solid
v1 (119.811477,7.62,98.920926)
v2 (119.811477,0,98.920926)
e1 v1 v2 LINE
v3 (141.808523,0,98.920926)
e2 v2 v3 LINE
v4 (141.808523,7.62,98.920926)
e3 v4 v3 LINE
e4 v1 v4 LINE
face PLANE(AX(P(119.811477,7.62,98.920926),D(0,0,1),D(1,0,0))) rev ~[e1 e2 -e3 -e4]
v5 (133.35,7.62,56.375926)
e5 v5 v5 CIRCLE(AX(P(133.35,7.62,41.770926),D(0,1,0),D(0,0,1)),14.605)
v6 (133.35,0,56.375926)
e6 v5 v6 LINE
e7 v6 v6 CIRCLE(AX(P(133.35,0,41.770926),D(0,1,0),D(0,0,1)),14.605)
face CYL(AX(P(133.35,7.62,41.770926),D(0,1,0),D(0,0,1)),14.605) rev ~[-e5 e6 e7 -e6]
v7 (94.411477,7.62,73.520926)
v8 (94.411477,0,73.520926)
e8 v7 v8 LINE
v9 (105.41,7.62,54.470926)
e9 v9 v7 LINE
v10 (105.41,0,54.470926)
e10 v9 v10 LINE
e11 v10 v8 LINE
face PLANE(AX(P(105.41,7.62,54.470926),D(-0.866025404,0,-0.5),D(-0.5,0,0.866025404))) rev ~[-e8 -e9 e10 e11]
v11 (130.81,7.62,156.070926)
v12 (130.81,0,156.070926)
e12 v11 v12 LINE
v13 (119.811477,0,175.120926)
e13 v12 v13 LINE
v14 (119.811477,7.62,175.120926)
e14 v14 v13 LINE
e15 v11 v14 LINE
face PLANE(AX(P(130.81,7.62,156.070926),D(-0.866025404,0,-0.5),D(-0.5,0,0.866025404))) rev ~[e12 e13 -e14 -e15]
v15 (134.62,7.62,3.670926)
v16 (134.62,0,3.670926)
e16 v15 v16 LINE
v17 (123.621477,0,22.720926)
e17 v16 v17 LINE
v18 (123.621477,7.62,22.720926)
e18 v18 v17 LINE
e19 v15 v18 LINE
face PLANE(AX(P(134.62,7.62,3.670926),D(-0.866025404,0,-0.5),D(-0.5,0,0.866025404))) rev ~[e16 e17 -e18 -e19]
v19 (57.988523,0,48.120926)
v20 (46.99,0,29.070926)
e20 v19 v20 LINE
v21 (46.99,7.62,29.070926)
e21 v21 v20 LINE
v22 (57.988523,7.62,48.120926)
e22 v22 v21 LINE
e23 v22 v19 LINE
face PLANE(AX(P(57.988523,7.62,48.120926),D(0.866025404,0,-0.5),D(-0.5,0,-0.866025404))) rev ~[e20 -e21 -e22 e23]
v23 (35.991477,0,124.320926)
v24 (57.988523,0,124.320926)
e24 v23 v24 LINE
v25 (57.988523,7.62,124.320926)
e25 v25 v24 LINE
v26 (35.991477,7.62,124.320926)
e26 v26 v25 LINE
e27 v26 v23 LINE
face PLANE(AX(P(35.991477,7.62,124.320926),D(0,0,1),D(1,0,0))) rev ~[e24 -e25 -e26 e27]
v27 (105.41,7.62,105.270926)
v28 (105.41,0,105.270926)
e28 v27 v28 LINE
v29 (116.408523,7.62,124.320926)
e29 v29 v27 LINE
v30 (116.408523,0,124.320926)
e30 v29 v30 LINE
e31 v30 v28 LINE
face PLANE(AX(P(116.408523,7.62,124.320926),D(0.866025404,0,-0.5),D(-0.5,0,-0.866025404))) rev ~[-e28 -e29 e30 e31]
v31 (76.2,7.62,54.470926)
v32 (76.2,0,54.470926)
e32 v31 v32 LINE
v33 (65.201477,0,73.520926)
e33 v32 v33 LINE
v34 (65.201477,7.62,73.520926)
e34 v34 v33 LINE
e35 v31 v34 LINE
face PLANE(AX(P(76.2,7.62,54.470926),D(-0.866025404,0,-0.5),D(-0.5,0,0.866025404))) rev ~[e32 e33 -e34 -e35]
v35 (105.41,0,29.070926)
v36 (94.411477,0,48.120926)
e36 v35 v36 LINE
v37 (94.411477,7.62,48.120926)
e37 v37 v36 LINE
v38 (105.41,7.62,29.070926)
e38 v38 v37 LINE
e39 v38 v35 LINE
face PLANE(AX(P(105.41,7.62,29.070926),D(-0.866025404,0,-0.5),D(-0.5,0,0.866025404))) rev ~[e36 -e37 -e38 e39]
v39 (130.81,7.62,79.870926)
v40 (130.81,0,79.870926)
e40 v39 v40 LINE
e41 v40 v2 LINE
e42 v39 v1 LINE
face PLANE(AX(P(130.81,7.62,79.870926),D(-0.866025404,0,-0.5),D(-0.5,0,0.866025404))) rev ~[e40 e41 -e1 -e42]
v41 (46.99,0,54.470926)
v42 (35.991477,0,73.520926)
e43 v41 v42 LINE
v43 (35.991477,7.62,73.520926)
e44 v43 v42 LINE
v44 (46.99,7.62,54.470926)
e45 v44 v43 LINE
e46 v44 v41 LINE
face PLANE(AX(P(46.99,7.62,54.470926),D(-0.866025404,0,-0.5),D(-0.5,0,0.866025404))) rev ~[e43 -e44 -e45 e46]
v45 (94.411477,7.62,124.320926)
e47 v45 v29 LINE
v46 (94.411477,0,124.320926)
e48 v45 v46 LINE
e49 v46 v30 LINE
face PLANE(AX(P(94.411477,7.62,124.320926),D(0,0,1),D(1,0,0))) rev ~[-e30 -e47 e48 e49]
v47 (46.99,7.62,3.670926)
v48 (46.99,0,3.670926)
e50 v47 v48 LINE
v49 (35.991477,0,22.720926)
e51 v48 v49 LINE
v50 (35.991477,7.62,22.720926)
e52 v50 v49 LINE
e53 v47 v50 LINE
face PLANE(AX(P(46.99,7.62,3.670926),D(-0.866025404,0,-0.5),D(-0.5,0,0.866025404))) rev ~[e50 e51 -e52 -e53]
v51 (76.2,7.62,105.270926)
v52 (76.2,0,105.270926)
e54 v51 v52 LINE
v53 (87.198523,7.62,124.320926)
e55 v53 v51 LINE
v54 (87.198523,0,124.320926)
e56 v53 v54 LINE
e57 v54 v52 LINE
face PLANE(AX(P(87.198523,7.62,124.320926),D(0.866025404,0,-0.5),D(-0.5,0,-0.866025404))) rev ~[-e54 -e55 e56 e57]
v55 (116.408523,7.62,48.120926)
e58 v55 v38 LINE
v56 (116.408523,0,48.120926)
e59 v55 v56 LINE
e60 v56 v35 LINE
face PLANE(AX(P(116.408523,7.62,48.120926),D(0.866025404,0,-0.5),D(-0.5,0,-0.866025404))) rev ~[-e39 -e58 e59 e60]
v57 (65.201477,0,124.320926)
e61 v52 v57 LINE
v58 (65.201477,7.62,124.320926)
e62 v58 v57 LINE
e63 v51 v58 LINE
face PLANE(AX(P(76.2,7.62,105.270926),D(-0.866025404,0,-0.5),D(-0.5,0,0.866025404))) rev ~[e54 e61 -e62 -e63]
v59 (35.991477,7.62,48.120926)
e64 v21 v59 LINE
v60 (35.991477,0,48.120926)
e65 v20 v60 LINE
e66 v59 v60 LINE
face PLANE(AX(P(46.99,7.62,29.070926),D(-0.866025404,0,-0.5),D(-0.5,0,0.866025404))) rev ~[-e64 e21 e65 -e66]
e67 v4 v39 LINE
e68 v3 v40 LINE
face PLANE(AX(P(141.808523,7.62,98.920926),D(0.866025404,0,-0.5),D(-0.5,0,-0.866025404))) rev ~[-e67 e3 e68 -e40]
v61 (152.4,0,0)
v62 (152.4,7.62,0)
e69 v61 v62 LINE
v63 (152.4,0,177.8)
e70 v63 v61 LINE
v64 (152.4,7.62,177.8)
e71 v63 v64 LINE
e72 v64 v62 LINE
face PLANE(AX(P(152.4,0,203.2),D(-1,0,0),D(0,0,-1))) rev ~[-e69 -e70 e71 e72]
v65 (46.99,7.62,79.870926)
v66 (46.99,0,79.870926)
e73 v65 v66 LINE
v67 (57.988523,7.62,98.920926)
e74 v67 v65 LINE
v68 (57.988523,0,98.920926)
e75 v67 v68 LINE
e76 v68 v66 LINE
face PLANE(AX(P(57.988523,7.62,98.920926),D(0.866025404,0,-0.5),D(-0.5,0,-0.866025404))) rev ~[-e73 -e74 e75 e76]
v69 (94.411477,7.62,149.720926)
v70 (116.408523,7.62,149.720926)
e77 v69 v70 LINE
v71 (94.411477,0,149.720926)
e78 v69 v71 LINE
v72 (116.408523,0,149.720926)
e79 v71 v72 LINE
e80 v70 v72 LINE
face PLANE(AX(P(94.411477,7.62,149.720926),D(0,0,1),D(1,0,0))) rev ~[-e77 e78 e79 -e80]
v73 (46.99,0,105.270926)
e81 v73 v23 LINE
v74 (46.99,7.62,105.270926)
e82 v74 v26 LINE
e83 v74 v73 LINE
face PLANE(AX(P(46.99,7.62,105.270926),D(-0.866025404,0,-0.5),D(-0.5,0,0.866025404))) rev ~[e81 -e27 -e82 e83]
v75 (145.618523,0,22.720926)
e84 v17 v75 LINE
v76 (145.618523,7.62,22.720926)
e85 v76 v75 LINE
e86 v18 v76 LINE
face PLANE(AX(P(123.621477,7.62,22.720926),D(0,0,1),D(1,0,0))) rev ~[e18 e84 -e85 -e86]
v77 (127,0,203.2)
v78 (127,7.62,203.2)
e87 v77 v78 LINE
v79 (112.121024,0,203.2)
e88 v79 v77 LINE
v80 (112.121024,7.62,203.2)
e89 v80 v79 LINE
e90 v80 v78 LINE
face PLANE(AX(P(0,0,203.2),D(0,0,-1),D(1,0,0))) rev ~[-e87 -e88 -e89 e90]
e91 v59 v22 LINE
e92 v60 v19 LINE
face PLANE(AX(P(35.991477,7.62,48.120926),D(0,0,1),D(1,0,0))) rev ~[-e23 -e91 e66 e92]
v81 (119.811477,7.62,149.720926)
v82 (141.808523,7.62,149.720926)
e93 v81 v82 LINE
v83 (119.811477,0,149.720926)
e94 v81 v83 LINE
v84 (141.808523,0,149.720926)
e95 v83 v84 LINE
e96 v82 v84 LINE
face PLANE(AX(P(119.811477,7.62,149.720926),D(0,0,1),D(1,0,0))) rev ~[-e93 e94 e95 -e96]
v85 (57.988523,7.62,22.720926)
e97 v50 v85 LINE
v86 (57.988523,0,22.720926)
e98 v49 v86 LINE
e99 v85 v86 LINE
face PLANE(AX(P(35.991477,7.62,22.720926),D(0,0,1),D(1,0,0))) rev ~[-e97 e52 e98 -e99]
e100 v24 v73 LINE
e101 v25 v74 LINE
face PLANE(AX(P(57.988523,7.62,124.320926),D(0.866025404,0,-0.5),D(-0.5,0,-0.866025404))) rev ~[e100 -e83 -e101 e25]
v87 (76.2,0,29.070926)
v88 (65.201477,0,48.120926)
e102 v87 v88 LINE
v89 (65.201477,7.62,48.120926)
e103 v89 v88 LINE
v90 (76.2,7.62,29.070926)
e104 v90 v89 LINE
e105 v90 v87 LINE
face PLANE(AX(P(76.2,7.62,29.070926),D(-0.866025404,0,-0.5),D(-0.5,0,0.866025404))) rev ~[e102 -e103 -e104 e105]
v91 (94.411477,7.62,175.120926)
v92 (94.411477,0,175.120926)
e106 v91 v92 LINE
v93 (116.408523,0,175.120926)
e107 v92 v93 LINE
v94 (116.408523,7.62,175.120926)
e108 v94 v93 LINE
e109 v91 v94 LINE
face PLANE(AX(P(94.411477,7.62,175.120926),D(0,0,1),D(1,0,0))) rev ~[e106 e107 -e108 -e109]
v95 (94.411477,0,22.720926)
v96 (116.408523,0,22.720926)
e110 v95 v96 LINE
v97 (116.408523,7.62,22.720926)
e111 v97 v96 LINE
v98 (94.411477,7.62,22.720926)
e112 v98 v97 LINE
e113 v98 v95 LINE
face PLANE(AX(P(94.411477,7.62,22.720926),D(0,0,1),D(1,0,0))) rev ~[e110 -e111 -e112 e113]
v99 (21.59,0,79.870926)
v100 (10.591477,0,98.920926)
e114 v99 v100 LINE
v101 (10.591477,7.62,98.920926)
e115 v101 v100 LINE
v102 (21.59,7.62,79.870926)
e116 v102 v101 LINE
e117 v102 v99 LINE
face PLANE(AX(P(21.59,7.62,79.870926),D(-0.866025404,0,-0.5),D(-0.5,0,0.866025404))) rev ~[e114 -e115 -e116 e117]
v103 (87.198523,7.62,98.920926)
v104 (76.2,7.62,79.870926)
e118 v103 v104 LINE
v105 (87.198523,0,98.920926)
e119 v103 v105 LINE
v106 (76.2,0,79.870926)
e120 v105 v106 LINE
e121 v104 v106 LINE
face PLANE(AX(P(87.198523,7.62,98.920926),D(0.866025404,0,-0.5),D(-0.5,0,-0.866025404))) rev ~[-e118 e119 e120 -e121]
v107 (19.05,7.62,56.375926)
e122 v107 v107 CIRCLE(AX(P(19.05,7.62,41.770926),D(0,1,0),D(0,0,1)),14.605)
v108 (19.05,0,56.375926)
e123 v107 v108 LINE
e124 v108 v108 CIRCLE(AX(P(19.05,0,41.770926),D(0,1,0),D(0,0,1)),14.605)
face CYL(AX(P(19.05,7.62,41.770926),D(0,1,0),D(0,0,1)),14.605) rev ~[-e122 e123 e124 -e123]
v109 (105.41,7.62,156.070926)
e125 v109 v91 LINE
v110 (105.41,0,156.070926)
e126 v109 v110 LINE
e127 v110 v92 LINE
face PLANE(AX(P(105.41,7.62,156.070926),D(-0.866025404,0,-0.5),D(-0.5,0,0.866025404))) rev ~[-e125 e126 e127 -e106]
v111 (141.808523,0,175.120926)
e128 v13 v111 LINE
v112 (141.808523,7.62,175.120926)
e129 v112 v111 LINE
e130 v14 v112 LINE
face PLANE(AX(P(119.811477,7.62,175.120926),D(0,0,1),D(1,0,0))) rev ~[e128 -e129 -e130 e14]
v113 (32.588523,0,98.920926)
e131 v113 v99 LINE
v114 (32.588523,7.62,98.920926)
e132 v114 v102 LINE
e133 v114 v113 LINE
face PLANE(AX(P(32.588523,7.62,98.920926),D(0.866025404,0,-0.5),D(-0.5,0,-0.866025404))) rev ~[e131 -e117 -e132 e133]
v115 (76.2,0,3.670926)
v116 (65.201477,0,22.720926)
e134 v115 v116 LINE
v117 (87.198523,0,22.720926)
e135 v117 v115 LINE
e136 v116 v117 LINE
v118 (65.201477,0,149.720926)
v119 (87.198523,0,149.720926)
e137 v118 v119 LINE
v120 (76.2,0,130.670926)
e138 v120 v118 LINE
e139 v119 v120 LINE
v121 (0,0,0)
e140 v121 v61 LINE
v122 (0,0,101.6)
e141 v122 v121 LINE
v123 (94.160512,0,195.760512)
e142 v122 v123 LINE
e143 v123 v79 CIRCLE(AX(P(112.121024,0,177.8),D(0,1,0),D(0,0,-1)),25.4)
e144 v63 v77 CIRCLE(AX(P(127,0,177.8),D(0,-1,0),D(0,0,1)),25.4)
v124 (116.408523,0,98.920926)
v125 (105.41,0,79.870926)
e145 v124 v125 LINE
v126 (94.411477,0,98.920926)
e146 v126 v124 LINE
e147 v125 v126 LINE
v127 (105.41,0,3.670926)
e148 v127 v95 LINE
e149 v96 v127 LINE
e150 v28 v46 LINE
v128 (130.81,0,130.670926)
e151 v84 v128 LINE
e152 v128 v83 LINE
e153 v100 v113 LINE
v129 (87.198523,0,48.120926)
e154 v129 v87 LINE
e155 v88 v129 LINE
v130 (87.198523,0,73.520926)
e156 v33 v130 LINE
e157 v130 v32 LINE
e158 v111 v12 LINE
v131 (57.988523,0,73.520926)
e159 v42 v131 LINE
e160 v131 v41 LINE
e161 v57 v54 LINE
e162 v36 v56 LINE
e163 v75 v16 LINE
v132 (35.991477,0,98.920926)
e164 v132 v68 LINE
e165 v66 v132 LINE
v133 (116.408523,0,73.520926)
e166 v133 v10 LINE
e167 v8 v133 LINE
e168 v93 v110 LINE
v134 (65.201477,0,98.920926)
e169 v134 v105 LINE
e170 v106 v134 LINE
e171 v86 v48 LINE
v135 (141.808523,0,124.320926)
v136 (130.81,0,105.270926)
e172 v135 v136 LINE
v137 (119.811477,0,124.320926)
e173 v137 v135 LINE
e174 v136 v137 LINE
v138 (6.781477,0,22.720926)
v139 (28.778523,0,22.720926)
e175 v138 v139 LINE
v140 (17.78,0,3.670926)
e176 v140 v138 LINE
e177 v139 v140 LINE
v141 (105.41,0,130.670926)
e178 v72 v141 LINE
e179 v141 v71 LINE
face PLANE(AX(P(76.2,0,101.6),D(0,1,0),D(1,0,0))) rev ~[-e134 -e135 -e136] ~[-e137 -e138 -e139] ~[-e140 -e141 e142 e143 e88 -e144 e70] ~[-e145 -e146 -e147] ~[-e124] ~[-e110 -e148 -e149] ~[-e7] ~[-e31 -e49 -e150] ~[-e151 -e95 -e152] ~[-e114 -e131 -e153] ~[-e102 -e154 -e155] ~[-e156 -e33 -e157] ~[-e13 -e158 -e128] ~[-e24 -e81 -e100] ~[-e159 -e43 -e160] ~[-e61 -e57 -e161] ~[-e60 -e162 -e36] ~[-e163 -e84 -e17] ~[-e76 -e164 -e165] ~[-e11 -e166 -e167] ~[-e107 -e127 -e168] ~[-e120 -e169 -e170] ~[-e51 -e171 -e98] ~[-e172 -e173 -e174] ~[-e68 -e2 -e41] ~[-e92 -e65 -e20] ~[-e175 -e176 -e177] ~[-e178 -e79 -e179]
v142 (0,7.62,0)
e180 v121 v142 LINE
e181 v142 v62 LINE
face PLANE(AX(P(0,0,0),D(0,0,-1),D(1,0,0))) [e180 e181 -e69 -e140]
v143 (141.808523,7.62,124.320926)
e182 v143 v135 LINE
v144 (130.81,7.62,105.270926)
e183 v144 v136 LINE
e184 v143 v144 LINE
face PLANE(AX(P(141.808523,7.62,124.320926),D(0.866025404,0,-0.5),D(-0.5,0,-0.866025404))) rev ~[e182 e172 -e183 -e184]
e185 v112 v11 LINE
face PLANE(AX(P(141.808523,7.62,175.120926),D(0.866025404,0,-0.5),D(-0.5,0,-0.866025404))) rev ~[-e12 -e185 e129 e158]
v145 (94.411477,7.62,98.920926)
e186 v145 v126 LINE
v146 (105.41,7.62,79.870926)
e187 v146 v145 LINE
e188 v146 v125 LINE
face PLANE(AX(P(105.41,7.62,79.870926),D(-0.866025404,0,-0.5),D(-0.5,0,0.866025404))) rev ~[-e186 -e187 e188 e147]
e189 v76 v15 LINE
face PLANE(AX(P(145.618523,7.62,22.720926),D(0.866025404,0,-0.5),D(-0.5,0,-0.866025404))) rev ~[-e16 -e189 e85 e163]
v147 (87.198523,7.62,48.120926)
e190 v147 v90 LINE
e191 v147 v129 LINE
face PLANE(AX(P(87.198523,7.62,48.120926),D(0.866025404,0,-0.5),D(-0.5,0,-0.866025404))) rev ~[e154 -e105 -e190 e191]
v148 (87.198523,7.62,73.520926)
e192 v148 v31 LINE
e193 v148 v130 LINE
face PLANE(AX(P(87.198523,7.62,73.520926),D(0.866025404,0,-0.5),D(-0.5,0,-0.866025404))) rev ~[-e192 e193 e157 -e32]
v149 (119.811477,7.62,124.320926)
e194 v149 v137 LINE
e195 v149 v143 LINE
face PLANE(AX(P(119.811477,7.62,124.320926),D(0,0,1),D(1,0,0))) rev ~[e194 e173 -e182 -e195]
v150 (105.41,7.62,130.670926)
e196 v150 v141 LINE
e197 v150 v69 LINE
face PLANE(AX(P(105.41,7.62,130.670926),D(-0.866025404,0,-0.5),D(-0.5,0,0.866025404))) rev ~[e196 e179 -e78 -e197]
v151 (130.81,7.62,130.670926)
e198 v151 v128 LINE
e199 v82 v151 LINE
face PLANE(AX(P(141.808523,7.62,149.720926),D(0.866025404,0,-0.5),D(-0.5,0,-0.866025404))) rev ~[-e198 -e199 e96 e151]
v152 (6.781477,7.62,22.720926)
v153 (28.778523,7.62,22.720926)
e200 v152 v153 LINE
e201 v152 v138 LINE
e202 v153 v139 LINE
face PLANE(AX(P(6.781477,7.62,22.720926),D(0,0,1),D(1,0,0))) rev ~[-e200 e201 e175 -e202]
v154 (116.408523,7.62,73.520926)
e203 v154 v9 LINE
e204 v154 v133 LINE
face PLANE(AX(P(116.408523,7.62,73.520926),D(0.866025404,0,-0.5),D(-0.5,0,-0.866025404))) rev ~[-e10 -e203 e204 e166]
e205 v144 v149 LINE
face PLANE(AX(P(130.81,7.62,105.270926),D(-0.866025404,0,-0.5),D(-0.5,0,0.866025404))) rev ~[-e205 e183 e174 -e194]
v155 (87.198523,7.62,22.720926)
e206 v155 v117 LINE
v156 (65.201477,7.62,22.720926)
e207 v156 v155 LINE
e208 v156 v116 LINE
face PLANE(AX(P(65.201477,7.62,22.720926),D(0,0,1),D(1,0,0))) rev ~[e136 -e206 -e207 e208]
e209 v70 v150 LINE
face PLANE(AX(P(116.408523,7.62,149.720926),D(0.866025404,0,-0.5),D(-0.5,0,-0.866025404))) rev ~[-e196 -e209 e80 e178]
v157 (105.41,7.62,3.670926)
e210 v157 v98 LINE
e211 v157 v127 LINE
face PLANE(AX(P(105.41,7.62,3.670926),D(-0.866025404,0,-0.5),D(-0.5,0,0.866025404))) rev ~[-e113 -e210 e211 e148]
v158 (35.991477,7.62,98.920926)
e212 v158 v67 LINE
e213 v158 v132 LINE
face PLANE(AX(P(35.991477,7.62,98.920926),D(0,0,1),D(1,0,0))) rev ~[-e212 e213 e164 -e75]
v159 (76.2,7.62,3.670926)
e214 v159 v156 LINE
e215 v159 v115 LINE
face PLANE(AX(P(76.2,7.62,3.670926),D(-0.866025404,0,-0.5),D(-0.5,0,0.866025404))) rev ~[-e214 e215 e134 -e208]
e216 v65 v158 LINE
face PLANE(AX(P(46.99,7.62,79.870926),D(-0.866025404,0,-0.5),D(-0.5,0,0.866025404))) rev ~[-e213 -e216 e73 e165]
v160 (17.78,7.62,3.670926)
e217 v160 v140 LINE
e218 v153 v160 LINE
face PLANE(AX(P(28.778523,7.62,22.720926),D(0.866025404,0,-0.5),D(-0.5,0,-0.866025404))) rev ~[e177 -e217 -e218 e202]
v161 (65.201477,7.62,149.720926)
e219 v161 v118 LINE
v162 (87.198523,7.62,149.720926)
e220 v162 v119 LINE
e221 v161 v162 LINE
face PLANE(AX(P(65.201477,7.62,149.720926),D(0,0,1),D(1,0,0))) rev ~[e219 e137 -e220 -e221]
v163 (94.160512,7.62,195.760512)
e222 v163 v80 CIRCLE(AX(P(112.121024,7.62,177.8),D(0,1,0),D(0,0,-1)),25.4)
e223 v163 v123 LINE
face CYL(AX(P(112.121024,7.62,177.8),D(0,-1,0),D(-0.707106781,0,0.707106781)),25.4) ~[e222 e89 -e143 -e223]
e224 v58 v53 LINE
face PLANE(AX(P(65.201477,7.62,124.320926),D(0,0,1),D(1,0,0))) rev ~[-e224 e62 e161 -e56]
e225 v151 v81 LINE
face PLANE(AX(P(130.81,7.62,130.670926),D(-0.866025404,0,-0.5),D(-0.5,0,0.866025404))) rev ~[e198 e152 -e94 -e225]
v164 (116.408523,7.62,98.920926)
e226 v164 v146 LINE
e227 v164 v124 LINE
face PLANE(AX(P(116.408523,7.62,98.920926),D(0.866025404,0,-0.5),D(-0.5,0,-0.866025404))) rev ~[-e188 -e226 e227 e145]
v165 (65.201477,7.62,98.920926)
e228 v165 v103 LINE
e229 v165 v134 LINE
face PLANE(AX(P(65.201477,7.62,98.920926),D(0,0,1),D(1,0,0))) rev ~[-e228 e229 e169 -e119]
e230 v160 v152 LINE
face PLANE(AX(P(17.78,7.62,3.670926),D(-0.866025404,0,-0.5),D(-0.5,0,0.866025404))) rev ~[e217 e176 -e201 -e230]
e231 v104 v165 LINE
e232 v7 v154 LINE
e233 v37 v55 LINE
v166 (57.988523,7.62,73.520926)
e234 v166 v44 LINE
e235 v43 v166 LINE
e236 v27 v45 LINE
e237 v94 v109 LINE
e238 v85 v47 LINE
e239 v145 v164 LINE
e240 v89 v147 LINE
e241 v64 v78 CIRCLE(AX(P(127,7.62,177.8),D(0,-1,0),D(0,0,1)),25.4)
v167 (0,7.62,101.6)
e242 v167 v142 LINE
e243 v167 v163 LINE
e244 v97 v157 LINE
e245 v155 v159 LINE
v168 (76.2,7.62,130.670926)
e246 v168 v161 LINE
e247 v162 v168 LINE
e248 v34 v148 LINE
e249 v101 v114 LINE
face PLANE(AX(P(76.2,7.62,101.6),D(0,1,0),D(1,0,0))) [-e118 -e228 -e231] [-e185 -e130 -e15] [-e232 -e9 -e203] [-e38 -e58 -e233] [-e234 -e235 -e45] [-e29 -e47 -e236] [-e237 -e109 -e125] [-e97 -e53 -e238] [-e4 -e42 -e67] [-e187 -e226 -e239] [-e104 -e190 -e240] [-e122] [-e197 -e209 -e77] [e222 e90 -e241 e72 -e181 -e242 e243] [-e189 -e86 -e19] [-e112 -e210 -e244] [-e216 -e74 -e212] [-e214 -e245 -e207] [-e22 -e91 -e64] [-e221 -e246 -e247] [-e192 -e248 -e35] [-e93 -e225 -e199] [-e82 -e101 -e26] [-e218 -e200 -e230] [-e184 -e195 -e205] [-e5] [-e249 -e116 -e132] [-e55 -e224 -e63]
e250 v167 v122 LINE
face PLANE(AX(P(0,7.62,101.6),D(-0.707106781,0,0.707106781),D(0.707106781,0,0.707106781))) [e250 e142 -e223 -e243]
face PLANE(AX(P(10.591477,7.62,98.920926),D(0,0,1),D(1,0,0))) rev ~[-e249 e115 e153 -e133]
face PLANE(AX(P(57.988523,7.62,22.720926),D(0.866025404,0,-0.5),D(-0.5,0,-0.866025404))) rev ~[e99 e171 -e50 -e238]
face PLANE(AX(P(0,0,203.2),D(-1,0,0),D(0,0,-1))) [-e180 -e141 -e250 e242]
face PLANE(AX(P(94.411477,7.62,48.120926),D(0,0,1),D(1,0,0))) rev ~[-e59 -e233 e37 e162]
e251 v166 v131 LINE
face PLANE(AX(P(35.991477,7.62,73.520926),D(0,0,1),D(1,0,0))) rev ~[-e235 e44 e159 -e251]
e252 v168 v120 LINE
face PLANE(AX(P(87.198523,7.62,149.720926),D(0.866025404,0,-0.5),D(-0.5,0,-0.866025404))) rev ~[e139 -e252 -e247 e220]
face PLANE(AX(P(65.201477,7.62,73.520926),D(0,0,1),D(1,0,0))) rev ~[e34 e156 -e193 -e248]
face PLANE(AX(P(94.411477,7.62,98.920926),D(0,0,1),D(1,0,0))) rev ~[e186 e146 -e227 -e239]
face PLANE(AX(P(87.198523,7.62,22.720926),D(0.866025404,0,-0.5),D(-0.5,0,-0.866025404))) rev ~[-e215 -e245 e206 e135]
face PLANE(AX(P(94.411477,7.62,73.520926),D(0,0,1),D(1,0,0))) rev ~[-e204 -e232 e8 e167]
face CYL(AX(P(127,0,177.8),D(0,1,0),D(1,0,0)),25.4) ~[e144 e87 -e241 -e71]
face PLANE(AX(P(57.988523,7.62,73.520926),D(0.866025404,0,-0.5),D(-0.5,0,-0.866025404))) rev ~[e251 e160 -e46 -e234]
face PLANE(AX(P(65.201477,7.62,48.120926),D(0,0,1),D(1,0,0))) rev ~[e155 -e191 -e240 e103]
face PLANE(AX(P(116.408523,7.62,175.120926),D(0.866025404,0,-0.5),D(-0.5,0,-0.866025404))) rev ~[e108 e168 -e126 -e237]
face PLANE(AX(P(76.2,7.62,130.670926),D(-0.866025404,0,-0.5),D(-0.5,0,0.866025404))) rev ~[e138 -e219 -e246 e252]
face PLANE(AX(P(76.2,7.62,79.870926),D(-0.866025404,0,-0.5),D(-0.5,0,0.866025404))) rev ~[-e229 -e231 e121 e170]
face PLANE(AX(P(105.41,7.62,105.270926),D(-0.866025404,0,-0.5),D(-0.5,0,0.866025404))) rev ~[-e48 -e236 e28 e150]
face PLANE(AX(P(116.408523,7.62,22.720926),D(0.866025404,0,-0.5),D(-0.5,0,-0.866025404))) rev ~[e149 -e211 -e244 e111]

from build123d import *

# Parameters (mm, degrees)
SKETCH9_W           = 152.4
SKETCH9_H           = 203.2
BOSS_EXTRUDE4_DEPTH = 7.62
SKETCH10_R          = 14.605
CUT_EXTRUDE4_DEPTH  = 7.62
CUT_EXTRUDE5_DEPTH  = 7.62
FILLET2_R           = 25.4
CUT_EXTRUDE6_DEPTH  = 7.62


with BuildPart() as part:
    # Sketch9 → Boss-Extrude4 (new body)
    with BuildSketch(Plane(origin=(0, 0, 0), x_dir=(1, 0, 0), z_dir=(0, 1, 0))):
        with Locations((76.2, -101.6)):
            Rectangle(SKETCH9_W, SKETCH9_H)
    extrude(amount=BOSS_EXTRUDE4_DEPTH)

    # Sketch10 → Cut-Extrude4 (cut)
    with BuildSketch(Plane(origin=(0, 7.62, 0), x_dir=(1, 0, 0), z_dir=(0, 1, 0))):
        with Locations(Location((19.05, -41.770926028, 0), (0, 0, 270))):
            Circle(SKETCH10_R)
        with Locations(Location((133.35, -41.770926028, 0), (0, 0, 270))):
            Circle(SKETCH10_R)
    extrude(amount=-CUT_EXTRUDE4_DEPTH, mode=Mode.SUBTRACT)

    # Sketch11 → Cut-Extrude5 (cut)
    with BuildSketch(Plane(origin=(0, 7.62, 0), x_dir=(1, 0, 0), z_dir=(0, 1, 0))):
        Polygon((0, -101.6), (101.6, -203.2), (0, -203.2), align=None)
    extrude(amount=-CUT_EXTRUDE5_DEPTH, mode=Mode.SUBTRACT)

    # Fillet2
    fillet2_edges = [part.edges().sort_by_distance(p)[0] for p in [
        (101.6, 3.81, 203.2),
        (152.4, 3.81, 203.2),
    ]]
    fillet(fillet2_edges, radius=FILLET2_R)

    # Sketch12 → Cut-Extrude6 (cut)
    with BuildSketch(Plane(origin=(0, 7.62, 0), x_dir=(1, 0, 0), z_dir=(0, 1, 0))):
        Polygon((17.78, -3.670926028), (6.781477372, -22.720926028), (28.778522628, -22.720926028), align=None)
        Polygon((35.991477372, -22.720926028), (57.988522628, -22.720926028), (46.99, -3.670926028), align=None)
        Polygon((65.201477372, -22.720926028), (87.198522628, -22.720926028), (76.2, -3.670926028), align=None)
        Polygon((94.411477372, -22.720926028), (116.408522628, -22.720926028), (105.41, -3.670926028), align=None)
        Polygon((123.621477372, -22.720926028), (145.618522628, -22.720926028), (134.62, -3.670926028), align=None)
        Polygon((35.991477372, -48.120926028), (57.988522628, -48.120926028), (46.99, -29.070926028), align=None)
        Polygon((35.991477372, -73.520926028), (57.988522628, -73.520926028), (46.99, -54.470926028), align=None)
        Polygon((35.991477372, -98.920926028), (57.988522628, -98.920926028), (46.99, -79.870926028), align=None)
        Polygon((35.991477372, -124.320926028), (57.988522628, -124.320926028), (46.99, -105.270926028), align=None)
        Polygon((65.201477372, -48.120926028), (87.198522628, -48.120926028), (76.2, -29.070926028), align=None)
        Polygon((105.41, -29.070926028), (94.411477372, -48.120926028), (116.408522628, -48.120926028), align=None)
        Polygon((65.201477372, -73.520926028), (87.198522628, -73.520926028), (76.2, -54.470926028), align=None)
        Polygon((105.41, -54.470926028), (94.411477372, -73.520926028), (116.408522628, -73.520926028), align=None)
        Polygon((65.201477372, -98.920926028), (87.198522628, -98.920926028), (76.2, -79.870926028), align=None)
        Polygon((105.41, -79.870926028), (94.411477372, -98.920926028), (116.408522628, -98.920926028), align=None)
        Polygon((65.201477372, -124.320926028), (87.198522628, -124.320926028), (76.2, -105.270926028), align=None)
        Polygon((105.41, -105.270926028), (94.411477372, -124.320926028), (116.408522628, -124.320926028), align=None)
        Polygon((65.201477372, -149.720926028), (87.198522628, -149.720926028), (76.2, -130.670926028), align=None)
        Polygon((105.41, -130.670926028), (94.411477372, -149.720926028), (116.408522628, -149.720926028), align=None)
        Polygon((130.81, -79.870926028), (119.811477372, -98.920926028), (141.808522628, -98.920926028), align=None)
        Polygon((130.81, -105.270926028), (119.811477372, -124.320926028), (141.808522628, -124.320926028), align=None)
        Polygon((130.81, -130.670926028), (119.811477372, -149.720926028), (141.808522628, -149.720926028), align=None)
        Polygon((105.41, -156.070926028), (94.411477372, -175.120926028), (116.408522628, -175.120926028), align=None)
        Polygon((130.81, -156.070926028), (119.811477372, -175.120926028), (141.808522628, -175.120926028), align=None)
        Polygon((10.591477372, -98.920926028), (32.588522628, -98.920926028), (21.59, -79.870926028), align=None)
    extrude(amount=-CUT_EXTRUDE6_DEPTH, mode=Mode.SUBTRACT)


solid = part.part
